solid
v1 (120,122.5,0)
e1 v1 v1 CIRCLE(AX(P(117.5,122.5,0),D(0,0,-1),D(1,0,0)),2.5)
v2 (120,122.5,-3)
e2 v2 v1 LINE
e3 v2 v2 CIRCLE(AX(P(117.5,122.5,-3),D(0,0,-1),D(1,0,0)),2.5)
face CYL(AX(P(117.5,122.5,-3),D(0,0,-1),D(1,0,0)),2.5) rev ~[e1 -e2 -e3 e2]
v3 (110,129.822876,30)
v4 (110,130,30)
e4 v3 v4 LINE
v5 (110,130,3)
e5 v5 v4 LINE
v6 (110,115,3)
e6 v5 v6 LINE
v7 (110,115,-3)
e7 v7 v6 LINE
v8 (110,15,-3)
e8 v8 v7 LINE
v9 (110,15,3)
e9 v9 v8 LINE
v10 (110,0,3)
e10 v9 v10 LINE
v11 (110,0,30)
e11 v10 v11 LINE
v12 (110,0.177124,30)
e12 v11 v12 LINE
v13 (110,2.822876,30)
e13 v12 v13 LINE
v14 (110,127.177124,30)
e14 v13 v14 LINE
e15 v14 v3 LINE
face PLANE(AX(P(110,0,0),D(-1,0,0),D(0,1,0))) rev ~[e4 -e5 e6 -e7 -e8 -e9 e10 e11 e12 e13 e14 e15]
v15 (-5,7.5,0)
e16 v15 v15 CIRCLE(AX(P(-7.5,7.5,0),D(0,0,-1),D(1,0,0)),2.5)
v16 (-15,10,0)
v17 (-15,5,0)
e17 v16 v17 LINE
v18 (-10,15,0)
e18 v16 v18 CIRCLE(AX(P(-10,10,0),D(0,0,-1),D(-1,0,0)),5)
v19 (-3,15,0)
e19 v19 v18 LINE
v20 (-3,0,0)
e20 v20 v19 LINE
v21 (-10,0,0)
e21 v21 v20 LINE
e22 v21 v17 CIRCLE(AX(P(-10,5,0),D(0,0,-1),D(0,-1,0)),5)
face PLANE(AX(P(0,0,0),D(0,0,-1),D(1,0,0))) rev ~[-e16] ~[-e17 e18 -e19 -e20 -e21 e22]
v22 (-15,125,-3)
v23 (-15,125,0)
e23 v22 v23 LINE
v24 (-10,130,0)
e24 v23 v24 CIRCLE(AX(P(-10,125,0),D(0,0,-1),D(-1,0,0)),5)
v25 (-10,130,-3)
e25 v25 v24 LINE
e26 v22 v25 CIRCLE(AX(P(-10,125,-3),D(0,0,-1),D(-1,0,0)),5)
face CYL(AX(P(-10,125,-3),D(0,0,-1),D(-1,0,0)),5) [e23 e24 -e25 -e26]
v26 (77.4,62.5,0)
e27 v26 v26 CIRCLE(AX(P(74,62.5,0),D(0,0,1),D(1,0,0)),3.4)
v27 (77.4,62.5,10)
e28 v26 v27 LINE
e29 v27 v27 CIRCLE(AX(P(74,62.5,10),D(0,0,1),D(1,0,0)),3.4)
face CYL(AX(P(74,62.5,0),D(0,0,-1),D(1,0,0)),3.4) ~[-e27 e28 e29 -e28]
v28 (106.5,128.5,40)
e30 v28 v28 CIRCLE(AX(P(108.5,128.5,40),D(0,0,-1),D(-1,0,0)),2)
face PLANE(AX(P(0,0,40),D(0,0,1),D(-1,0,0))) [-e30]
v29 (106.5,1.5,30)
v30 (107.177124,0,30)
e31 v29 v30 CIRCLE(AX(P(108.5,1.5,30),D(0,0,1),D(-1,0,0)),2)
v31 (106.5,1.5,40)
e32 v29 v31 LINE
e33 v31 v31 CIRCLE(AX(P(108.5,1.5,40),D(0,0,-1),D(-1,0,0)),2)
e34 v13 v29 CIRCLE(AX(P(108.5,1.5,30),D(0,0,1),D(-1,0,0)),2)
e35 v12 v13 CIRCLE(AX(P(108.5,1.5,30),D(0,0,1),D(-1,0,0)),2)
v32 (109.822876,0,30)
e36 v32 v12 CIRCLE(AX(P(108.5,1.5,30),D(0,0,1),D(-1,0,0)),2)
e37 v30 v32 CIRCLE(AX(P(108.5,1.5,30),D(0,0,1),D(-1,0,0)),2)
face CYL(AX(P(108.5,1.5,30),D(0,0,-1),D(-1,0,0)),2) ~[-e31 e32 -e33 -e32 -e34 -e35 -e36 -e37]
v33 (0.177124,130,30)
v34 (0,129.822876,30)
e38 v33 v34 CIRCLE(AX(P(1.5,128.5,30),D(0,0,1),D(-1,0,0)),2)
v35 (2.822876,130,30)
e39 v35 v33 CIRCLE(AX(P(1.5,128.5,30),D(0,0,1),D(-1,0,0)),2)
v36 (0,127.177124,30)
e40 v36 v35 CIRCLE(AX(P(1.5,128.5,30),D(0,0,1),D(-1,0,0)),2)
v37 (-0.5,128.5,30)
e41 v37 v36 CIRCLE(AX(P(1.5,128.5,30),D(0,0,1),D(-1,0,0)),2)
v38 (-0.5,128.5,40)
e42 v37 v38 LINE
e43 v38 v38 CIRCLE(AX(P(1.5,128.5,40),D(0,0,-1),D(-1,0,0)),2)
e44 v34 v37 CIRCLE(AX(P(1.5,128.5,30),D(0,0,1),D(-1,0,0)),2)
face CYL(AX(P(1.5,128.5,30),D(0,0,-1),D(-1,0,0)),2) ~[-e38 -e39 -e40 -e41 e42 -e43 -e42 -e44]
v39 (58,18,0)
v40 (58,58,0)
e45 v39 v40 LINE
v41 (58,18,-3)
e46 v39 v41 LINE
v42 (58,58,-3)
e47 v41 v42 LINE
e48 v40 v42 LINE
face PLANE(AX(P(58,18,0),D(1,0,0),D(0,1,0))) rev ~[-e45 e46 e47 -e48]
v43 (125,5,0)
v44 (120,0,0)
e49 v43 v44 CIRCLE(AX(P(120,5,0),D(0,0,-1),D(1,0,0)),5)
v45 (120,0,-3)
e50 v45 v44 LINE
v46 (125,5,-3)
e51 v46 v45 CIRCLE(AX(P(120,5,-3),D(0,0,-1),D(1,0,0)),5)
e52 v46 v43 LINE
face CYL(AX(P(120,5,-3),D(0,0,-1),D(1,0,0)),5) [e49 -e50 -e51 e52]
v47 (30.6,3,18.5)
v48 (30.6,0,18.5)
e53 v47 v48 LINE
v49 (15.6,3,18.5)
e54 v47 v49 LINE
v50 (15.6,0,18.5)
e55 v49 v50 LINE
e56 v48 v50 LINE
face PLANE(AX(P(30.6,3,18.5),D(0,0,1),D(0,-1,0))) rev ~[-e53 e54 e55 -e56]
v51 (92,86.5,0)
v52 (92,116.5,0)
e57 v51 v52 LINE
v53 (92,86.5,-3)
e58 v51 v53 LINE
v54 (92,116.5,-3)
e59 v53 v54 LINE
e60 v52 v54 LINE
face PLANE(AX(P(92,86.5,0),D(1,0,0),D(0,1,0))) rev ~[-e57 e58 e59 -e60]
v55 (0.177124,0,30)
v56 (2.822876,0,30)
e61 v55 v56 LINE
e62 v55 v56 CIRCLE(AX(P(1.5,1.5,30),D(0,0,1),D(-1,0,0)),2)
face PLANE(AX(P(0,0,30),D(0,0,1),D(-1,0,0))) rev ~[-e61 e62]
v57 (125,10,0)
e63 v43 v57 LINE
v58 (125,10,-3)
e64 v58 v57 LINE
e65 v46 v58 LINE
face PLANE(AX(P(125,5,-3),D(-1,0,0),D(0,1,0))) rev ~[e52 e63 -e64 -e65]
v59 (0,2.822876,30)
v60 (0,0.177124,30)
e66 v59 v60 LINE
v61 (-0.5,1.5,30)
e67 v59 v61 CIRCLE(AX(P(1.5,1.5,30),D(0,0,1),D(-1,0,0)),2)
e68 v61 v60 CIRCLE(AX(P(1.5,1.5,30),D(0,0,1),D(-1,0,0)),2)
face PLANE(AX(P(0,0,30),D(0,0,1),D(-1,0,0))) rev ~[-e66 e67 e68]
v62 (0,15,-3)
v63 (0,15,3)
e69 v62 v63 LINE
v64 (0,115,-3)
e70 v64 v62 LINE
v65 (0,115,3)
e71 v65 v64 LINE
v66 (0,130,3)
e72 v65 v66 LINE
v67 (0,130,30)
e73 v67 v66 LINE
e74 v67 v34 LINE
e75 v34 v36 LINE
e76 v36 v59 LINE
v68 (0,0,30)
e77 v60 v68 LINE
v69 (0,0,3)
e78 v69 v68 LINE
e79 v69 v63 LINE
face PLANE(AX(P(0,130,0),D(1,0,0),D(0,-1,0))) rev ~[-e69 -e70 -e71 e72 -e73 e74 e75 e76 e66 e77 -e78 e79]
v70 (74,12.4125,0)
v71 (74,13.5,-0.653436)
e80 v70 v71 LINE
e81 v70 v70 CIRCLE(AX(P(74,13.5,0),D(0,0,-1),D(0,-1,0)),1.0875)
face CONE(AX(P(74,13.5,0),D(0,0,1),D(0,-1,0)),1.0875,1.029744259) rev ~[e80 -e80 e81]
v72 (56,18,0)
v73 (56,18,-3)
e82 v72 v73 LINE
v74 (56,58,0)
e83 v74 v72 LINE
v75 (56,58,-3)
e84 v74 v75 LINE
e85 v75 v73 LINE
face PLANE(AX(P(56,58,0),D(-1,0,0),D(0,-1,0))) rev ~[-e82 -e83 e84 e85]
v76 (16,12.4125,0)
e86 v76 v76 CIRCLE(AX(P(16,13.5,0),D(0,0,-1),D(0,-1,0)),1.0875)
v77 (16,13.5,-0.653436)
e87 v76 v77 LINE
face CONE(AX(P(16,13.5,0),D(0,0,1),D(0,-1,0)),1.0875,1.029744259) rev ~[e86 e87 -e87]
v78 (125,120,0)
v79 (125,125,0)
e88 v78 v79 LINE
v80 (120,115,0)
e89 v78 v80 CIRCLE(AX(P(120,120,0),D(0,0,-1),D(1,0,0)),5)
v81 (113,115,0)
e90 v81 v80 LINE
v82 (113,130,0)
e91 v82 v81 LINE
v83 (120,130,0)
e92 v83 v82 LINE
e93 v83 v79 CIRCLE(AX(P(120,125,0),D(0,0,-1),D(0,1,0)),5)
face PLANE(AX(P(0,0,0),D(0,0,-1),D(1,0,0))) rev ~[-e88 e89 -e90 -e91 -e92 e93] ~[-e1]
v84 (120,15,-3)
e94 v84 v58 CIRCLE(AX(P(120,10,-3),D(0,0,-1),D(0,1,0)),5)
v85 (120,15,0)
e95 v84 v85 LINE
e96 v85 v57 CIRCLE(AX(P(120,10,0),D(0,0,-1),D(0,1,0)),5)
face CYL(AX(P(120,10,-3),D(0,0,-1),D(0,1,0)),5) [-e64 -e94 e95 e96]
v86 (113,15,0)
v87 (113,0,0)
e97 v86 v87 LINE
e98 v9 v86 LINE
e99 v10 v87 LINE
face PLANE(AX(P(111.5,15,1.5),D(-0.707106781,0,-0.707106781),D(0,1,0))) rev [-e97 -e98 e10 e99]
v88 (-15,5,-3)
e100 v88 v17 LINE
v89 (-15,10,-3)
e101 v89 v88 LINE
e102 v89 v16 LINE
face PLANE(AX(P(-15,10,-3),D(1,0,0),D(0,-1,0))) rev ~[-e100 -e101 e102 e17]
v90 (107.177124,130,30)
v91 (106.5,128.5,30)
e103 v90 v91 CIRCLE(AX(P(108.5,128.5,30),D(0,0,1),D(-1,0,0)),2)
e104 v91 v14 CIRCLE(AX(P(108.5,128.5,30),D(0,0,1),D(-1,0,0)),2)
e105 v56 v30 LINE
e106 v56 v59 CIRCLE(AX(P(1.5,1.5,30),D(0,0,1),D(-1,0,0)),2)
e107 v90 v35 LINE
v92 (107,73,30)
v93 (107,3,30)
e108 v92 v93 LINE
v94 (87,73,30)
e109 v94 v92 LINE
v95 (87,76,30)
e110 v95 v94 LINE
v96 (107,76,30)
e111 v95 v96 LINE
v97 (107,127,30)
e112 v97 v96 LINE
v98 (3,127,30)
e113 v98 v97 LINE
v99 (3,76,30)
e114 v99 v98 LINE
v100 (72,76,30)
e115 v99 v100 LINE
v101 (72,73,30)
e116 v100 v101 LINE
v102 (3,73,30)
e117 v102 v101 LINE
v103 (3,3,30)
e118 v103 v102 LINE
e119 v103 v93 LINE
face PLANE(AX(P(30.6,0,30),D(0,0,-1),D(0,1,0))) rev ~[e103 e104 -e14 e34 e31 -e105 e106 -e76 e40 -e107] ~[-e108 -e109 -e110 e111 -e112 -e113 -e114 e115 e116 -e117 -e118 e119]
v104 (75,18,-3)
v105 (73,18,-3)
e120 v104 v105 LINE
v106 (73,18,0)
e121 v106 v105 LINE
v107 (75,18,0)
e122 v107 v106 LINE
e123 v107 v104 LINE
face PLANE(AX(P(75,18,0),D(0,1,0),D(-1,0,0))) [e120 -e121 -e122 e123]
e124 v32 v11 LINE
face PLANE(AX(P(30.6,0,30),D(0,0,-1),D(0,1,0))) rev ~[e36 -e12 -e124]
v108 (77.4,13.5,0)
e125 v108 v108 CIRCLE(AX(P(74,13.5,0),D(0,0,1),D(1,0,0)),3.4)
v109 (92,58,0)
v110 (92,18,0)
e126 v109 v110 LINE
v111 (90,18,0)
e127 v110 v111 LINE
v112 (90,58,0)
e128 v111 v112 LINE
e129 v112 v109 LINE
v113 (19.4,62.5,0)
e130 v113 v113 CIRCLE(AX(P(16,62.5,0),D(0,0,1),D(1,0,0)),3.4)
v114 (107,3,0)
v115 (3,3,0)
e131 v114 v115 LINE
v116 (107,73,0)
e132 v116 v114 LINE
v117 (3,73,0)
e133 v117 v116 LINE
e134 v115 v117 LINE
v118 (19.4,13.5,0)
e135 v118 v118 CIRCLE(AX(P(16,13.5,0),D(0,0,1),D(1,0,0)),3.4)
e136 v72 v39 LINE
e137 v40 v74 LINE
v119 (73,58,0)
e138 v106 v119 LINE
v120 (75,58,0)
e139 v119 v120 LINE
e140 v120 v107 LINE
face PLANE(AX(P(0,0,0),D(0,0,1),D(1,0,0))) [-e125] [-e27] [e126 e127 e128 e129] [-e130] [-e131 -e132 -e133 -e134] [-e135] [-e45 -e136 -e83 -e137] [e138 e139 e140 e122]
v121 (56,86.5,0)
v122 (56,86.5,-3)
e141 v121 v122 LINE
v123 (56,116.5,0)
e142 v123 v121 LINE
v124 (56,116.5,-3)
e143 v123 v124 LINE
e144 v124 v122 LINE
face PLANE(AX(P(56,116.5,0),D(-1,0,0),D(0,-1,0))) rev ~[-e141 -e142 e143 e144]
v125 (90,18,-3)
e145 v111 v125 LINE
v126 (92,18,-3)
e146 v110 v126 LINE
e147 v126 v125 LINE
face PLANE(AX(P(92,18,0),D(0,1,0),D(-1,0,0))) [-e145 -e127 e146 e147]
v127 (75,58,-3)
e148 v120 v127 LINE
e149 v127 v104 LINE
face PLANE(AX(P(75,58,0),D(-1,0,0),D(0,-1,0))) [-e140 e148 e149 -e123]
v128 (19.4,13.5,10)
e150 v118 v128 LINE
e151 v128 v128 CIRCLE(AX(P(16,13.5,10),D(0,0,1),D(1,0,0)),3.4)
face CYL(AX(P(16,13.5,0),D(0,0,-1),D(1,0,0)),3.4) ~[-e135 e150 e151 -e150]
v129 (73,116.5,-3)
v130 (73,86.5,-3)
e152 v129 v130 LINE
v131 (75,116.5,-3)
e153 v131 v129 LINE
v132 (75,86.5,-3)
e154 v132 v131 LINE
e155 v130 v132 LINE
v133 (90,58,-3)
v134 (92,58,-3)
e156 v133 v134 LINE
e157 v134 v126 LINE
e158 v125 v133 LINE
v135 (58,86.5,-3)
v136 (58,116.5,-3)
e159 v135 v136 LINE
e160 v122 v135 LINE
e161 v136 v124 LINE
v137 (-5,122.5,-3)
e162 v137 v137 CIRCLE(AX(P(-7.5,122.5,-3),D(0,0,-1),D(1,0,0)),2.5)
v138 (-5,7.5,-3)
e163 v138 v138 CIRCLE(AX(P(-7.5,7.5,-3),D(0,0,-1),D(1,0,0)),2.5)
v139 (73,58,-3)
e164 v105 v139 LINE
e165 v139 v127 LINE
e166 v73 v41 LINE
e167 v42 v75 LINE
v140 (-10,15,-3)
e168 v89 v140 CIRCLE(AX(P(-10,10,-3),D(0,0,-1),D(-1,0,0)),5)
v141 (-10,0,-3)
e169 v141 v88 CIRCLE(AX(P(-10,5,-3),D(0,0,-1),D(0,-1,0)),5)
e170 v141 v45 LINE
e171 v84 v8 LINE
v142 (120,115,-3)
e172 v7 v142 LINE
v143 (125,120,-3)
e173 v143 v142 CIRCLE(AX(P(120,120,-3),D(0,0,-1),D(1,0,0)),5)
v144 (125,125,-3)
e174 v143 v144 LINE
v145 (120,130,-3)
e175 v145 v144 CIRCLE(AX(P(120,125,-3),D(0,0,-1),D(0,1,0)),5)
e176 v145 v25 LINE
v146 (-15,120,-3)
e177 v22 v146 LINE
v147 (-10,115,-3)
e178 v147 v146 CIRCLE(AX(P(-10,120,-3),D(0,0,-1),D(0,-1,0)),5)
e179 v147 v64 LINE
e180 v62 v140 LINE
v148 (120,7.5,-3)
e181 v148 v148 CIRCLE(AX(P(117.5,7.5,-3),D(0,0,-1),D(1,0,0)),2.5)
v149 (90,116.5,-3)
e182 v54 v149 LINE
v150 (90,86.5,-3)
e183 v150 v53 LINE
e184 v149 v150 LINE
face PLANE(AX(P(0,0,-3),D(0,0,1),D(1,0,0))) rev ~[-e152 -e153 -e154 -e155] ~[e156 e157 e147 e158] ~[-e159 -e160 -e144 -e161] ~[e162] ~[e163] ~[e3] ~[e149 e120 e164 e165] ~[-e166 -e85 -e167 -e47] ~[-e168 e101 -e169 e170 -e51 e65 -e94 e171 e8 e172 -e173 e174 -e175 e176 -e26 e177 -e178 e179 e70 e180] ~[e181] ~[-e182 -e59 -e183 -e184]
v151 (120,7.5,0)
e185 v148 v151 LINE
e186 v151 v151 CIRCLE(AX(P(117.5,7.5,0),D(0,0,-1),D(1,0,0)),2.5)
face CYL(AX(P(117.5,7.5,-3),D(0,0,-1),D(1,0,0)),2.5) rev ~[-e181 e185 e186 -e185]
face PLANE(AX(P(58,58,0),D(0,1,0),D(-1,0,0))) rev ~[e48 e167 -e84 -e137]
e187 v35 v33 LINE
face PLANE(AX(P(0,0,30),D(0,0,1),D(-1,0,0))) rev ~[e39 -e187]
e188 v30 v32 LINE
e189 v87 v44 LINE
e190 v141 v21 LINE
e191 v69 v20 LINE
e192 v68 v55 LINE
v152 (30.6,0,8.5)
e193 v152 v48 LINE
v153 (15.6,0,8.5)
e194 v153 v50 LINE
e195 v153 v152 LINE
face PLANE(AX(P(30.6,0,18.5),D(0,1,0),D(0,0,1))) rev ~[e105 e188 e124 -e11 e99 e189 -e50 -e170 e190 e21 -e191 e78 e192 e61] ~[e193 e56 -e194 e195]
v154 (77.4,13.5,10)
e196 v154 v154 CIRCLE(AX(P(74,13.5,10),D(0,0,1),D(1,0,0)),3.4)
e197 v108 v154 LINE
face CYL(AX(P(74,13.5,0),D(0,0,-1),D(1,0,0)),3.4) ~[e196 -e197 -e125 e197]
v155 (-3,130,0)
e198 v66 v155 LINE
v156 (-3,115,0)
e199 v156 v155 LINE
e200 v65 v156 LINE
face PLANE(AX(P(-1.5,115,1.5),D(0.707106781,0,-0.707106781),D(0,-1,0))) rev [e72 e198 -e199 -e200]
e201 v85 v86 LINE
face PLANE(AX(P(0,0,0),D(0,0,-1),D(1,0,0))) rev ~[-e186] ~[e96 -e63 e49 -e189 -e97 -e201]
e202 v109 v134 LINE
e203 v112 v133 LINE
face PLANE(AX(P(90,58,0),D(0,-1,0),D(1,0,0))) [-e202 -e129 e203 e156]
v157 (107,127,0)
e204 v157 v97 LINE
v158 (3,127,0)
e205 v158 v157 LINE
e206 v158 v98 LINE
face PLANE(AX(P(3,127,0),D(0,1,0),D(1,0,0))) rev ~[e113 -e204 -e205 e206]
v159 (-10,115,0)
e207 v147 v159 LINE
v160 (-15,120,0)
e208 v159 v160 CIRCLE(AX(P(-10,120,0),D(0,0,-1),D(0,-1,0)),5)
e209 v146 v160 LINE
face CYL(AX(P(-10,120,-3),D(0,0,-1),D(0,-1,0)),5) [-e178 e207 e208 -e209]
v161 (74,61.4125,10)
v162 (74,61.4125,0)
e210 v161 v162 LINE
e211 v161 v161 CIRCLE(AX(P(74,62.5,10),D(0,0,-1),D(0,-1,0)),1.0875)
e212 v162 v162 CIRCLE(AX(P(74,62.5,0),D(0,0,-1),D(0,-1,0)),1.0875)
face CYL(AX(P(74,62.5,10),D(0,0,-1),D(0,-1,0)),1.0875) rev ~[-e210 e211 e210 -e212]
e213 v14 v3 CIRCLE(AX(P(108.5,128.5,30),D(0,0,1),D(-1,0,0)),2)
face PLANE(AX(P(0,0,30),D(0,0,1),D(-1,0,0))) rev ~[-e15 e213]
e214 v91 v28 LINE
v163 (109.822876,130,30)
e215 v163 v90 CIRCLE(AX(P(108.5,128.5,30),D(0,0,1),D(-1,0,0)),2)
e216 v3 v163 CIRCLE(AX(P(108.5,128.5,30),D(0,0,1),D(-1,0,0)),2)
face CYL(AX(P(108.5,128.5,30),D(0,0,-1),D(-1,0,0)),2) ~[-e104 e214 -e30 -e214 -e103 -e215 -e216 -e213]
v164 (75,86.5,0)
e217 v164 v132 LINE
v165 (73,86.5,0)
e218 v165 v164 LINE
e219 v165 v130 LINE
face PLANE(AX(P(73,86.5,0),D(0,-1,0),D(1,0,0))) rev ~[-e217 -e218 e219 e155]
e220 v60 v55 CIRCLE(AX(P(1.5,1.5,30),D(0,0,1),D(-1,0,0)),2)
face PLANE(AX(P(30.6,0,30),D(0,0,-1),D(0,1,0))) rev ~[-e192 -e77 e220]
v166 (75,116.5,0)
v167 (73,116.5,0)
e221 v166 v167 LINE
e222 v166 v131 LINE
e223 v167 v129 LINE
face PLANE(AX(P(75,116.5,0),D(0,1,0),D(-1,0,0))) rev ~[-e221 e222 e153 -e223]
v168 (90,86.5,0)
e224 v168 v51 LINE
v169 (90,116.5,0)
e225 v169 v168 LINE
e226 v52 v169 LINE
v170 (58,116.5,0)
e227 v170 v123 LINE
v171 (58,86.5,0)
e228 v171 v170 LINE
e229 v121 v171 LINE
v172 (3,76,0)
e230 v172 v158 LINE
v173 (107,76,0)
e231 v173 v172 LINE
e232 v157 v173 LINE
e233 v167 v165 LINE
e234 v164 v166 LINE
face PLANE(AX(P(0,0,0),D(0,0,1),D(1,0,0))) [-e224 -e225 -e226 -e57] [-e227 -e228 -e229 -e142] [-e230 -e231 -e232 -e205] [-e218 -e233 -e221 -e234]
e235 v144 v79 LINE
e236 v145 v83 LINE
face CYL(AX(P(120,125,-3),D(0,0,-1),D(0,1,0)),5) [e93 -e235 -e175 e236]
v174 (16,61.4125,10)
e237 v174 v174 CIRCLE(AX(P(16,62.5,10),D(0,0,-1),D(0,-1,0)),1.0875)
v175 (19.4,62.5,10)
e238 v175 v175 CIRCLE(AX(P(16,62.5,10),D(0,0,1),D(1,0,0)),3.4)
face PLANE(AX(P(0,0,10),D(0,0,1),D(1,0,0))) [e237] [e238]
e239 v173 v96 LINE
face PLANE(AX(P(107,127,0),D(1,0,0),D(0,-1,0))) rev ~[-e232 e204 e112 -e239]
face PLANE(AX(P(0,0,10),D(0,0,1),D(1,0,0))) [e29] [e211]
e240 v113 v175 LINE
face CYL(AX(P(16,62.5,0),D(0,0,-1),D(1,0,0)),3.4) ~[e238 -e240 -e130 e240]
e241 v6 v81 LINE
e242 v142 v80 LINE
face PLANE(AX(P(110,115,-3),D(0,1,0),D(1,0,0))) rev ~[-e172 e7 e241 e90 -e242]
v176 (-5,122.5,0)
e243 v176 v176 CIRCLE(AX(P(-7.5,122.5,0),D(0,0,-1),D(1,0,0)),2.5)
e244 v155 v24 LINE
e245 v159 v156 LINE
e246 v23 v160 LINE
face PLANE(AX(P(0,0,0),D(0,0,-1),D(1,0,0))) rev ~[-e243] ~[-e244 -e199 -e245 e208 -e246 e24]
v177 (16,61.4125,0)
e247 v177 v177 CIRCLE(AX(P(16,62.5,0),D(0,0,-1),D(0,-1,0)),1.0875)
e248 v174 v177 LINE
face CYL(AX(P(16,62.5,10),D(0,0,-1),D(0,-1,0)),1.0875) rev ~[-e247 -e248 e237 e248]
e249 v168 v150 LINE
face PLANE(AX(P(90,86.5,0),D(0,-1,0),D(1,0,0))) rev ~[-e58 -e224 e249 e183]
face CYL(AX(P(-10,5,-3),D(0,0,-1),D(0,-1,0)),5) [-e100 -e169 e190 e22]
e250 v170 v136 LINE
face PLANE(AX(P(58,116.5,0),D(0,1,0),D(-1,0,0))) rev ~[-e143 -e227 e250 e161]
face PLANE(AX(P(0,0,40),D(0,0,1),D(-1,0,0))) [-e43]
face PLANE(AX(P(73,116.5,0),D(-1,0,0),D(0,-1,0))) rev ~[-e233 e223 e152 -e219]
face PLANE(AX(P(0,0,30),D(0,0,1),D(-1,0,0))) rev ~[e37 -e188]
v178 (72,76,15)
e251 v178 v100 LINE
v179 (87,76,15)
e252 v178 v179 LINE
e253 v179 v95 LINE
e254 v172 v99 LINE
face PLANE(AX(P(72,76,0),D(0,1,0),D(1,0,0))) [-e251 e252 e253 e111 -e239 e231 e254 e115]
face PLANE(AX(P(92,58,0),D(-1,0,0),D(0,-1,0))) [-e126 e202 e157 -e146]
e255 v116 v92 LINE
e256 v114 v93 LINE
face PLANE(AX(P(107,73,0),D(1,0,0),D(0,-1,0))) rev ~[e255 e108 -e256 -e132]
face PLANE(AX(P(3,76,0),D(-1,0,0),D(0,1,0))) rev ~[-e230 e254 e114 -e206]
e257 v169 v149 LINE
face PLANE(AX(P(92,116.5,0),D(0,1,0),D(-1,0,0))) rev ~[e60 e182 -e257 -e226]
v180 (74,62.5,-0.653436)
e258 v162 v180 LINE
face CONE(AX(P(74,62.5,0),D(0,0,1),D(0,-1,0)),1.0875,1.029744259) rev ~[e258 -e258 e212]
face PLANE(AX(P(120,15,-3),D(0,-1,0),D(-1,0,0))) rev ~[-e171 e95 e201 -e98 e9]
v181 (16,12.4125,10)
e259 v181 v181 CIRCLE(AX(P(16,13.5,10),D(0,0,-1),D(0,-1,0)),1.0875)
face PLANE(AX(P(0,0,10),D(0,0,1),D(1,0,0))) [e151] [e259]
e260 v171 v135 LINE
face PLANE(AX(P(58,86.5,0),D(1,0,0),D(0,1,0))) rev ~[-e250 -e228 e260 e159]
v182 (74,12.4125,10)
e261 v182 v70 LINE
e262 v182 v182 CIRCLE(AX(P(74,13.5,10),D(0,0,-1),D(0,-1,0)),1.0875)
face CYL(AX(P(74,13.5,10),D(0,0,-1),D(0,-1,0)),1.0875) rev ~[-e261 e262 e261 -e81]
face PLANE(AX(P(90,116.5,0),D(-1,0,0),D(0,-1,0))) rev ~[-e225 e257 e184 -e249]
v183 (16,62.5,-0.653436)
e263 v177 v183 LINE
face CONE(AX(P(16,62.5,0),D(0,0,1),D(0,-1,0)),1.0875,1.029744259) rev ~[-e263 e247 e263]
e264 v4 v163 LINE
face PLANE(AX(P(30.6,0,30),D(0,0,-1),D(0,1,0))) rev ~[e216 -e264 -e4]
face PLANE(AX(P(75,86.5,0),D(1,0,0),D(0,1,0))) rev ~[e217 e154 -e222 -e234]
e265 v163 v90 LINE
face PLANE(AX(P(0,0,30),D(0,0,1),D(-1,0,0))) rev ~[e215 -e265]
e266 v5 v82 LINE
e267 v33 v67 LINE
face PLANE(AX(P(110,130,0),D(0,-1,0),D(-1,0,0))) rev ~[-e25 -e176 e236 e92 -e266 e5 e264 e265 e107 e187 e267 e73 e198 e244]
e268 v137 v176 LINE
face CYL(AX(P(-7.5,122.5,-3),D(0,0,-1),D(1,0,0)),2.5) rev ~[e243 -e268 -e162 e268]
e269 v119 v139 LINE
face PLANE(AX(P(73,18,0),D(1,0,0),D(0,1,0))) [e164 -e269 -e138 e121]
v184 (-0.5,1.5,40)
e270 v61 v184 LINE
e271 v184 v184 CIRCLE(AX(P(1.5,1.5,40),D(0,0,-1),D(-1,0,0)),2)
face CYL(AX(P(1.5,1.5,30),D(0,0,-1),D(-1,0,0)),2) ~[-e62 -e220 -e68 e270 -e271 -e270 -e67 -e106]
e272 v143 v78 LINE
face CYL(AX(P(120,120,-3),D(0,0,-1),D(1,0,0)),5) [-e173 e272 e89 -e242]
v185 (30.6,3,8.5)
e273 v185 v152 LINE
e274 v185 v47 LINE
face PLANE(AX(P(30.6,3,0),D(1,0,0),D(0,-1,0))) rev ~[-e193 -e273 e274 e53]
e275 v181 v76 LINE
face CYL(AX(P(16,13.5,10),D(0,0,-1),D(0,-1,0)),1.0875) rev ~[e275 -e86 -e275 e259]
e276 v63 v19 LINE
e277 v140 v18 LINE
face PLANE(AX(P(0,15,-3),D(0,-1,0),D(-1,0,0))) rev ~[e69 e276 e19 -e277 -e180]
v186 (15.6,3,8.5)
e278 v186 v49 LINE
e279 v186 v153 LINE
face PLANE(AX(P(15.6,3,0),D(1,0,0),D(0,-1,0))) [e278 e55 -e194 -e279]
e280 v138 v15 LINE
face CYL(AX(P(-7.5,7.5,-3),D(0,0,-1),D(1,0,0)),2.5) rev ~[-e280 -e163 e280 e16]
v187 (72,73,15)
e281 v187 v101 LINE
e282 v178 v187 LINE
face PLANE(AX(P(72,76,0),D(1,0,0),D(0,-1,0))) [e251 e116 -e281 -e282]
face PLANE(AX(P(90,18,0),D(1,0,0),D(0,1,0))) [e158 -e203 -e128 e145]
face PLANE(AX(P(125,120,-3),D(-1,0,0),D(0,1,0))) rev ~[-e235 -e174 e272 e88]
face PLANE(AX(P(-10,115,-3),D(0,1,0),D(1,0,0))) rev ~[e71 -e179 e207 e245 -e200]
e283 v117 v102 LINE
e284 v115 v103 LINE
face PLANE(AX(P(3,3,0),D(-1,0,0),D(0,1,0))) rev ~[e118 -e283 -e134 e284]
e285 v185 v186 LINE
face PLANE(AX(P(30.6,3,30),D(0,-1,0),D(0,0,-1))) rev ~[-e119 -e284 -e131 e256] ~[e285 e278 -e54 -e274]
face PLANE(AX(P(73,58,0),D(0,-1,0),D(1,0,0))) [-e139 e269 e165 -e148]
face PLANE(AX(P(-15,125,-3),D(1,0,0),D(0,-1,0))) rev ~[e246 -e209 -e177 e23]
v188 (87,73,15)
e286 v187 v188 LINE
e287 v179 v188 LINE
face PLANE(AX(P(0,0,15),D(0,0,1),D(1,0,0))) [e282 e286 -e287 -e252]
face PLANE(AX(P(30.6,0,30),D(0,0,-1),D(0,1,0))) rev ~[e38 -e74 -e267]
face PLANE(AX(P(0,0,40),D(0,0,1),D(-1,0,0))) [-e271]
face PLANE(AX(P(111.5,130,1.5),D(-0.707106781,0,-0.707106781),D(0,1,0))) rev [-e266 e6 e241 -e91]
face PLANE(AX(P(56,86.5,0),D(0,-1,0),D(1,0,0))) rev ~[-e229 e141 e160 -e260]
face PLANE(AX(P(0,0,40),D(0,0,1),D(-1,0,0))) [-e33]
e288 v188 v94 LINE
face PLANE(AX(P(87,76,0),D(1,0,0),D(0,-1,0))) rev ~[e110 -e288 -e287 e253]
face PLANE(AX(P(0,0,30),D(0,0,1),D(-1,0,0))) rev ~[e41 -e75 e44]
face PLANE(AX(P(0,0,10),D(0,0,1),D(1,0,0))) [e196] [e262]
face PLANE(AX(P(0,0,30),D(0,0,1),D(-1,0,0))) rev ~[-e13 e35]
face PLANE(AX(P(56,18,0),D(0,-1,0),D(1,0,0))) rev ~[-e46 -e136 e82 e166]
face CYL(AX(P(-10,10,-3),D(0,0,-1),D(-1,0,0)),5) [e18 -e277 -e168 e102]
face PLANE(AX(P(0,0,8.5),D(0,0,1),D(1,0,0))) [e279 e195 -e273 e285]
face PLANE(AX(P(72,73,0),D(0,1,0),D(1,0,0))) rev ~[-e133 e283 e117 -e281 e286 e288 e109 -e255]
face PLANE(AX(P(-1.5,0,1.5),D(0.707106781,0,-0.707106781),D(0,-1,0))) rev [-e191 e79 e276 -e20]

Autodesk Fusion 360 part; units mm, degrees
sketch "Sketch2" plane through (0, 0, 0) normal (0, 0, 1) x (1, 0, 0)
  line L0 (0, 0) -> (110, 0)
  line L1 (110, 0) -> (110, 130)
  line L2 (110, 130) -> (0, 130)
  line L3 (0, 130) -> (0, 0)
  line L4 (3, 127) -> (107, 127)
  line L5 (107, 127) -> (107, 3)
  line L6 (107, 3) -> (3, 3)
  line L7 (3, 3) -> (3, 127)
  line L8 (3, 73) -> (107, 73)
  line L9 (3, 76) -> (107, 76)
  circle A0 centre (16, 62.5) radius 1.4
  circle A1 centre (74, 62.5) radius 1.4
  circle A2 centre (16, 13.5) radius 1.4
  circle A3 centre (74, 13.5) radius 1.4
  circle A4 centre (74, 62.5) radius 3.4
  circle A5 centre (74, 13.5) radius 3.4
  circle A6 centre (16, 13.5) radius 3.4
  circle A7 centre (16, 62.5) radius 3.4
  line L10 (15.6, 3) -> (15.6, 0)
  line L11 (30.6, 3) -> (30.6, 0)
  line L12 (12.5, 66) -> (97.5, 66)
  line L13 (97.5, 66) -> (97.5, 10)
  line L14 (97.5, 10) -> (12.5, 10)
  line L15 (12.5, 10) -> (12.5, 66)
  line L16 (90, 58) -> (92, 58)
  line L17 (92, 58) -> (92, 18)
  line L18 (92, 18) -> (90, 18)
  line L19 (90, 18) -> (90, 58)
  line L20 (73, 58) -> (75, 58)
  line L21 (75, 58) -> (75, 18)
  line L22 (75, 18) -> (73, 18)
  line L23 (73, 18) -> (73, 58)
  line L24 (58, 58) -> (56, 58)
  line L25 (56, 58) -> (56, 18)
  line L26 (56, 18) -> (58, 18)
  line L27 (58, 18) -> (58, 58)
  line L28 (72, 76) -> (72, 73)
  line L29 (87, 76) -> (87, 73)
  dimension "d7" = 110
  dimension "d8" = 130
  dimension "d10" = 3
  dimension "d11" = 3
  dimension "d12" = 3
  dimension "d13" = 3
  dimension "d14" = 70
  dimension "d15" = 3
  dimension "d18" = 2.8
  dimension "d21" = 13
  dimension "d22" = 10.5
  dimension "d23" = 2.8
  dimension "d24" = 10.5
  dimension "d25" = 58
  dimension "d26" = 2.8
  dimension "d27" = 13
  dimension "d28" = 49
  dimension "d29" = 2.8
  dimension "d30" = 49
  dimension "d31" = 58
  dimension "d35" = 6.8
  dimension "d36" = 6.8
  dimension "d37" = 6.8
  dimension "d38" = 6.8
  dimension "d39" = 15
  dimension "d40" = 12.6
  dimension "d41" = 85
  dimension "d42" = 56
  dimension "d43" = 9.5
  dimension "d44" = 7
  dimension "d47" = 2
  dimension "d48" = 40
  dimension "d49" = 15
  dimension "d50" = 15
  dimension "d52" = 2
  dimension "d53" = 2
  dimension "d54" = 15
  dimension "d55" = 15
  dimension "d57" = 15
  dimension "d62" = 20
extrude "Extrude2" add sketch "Sketch2" along normal blind 30 contours L0 L1 L2 L3 L4 L5 L6 L7 L10 L11 | L7 L8 L9 L28 | L5 L8 L9 L29 makes body 1
extrude "Extrude1" add sketch "Sketch2" against normal blind 3 separate body contours L0 L1 L2 L3 L4 L5 L6 L7 L10 L11 | L0 L6 L10 L11 | L5 L6 L7 L8 | L7 L8 L9 L28 | L5 L8 L9 L29 | L4 L5 L7 L9 | L8 L9 L28 L29 | A0 | A1 | A2 | A3 | A4 | A5 | A6 | A7 | L12 L13 L14 L15 | L16 L17 L18 L19 | L20 L21 L22 L23 | L24 L25 L26 L27 makes body 2
extrude "Extrude3" cut sketch "Sketch2" against normal blind 3 contours L16 L17 L18 L19 | L20 L21 L22 L23 | L24 L25 L26 L27 bodies 2
extrude "Extrude4" add sketch "Sketch2" along normal blind 15 contours L8 L9 L28 L29 bodies 1 2
extrude "Extrude5" add sketch "Sketch2" along normal blind 10 contours A4 | A5 | A6 | A7 bodies 1
extrude "Extrude6" add sketch "Sketch2" along normal blind 8.5 contours L0 L6 L10 L11 bodies 1
sketch "Sketch3" plane through (30.6, 0, 0) normal (-1, 0, 0) x (0, -1, 0)
  line L0 (-3, 8.5) -> (0, 8.5)
  line L1 (0, 8.5) -> (0, 30)
  line L2 (0, 30) -> (-3, 30)
  line L3 (-3, 30) -> (-3, 8.5)
  line L4 (-3, 18.5) -> (0, 18.5)
  dimension "d80" = 10
extrude "Extrude7" add sketch "Sketch3" along normal blind 15 contours L1 L2 L3 L4 bodies 1
sketch "Sketch4" plane through (0, 0, 30) normal (0, 0, 1) x (-1, 0, 0)
  line L0 (-107, -3) -> (-3, -3)
  line L1 (-3, -3) -> (-3, -73)
  line L2 (-3, -73) -> (-72, -73)
  line L3 (-72, -73) -> (-72, -76)
  line L4 (-72, -76) -> (-3, -76)
  line L5 (-3, -76) -> (-3, -127)
  line L6 (-3, -127) -> (-107, -127)
  line L7 (-107, -127) -> (-107, -76)
  line L8 (-107, -76) -> (-87, -76)
  line L9 (-87, -76) -> (-87, -73)
  line L10 (-87, -73) -> (-107, -73)
  line L11 (-107, -73) -> (-107, -3)
  line L12 (-110, -130) -> (0, -130)
  line L13 (0, -130) -> (0, 0)
  circle A0 centre (-108.5, -1.5) radius 2
  line L14 (-110, 0) -> (-110, -130)
  line L15 (0, 0) -> (-110, 0)
  circle A1 centre (-1.5, -1.5) radius 2
  circle A2 centre (-108.5, -128.5) radius 2
  line L16 (0, -130) -> (0, 0)
  circle A3 centre (-1.5, -128.5) radius 2
  line L17 (-110, -130) -> (0, -130)
  dimension "d84" = 4
  dimension "d87" = 4
  dimension "d90" = 4
  dimension "d92" = 1.5
  dimension "d93" = 1.5
  dimension "d94" = 1.5
  dimension "d95" = 1.5
  dimension "d96" = 1.5
  dimension "d97" = 1.5
  dimension "d98" = 4
  dimension "d99" = 1.5
  dimension "d100" = 1.5
extrude "Extrude8" add sketch "Sketch4" along normal blind 10 contours L12 L14 A2 L17 | L12 A2 L17 | L14 A2 | L12 L13 L16 A3 L17 | L12 A3 L17 | A0 L14 L15 | A0 L14 | L13 L16 A3 | L13 L15 A1 L16 | L13 A1 L16 | A0 L15 | L15 A1 picked at (-108.9341, -127.7863) picked at (-1.4297, -128.837) picked at (-108.7492, -1.8986) picked at (-1.0117, -1.0691) bodies 1
sketch "Sketch5" plane through (0, 0, 0) normal (0, 0, 1) x (1, 0, 0)
  line L0 (90, 86.5) -> (92, 86.5)
  line L1 (92, 86.5) -> (92, 116.5)
  line L2 (92, 116.5) -> (90, 116.5)
  line L3 (90, 116.5) -> (90, 86.5)
  line L4 (107, 127) -> (107, 3)
  line L5 (3, 127) -> (107, 127)
  line L6 (73, 86.5) -> (75, 86.5)
  line L7 (75, 86.5) -> (75, 116.5)
  line L8 (75, 116.5) -> (73, 116.5)
  line L9 (73, 116.5) -> (73, 86.5)
  line L10 (56, 86.5) -> (58, 86.5)
  line L11 (58, 86.5) -> (58, 116.5)
  line L12 (58, 116.5) -> (56, 116.5)
  line L13 (56, 116.5) -> (56, 86.5)
  line L14 (11, 118) -> (39, 118)
  line L15 (39, 118) -> (39, 92)
  line L16 (39, 92) -> (11, 92)
  line L17 (11, 92) -> (11, 118)
  dimension "d105" = 30
  dimension "d106" = 2
  dimension "d107" = 15
  dimension "d108" = 10.5
  dimension "d109" = 2
  dimension "d110" = 2
  dimension "d111" = 15
  dimension "d112" = 15
  dimension "d117" = 28
  dimension "d118" = 26
extrude "Extrude9" cut sketch "Sketch5" against normal blind 3 contours L0 L1 L2 L3 | L6 L7 L8 L9 | L10 L11 L12 L13 bodies 1
sketch "Sketch7" plane through (0, 0, 0) normal (0, 0, 1) x (1, 0, 0)
  line L0 (-161.2037, 91.5) -> (-31.2037, 91.5)
  line L1 (-31.2037, 91.5) -> (-31.2037, -58.5)
  line L2 (-31.2037, -58.5) -> (-161.2037, -58.5)
  line L3 (-161.2037, -58.5) -> (-161.2037, 91.5)
  line L4 (-161.2037, -58.5) -> (-31.2037, 91.5) construction
  line L5 (-31.2037, -58.5) -> (-161.2037, 91.5) construction
  circle A0 centre (-149.7037, -47) radius 2.5
  circle A1 centre (-42.7037, -47) radius 2.5
  circle A2 centre (-42.7037, 80) radius 2.5
  circle A3 centre (-149.7037, 80) radius 2.5
  line L6 (-145.2037, -42.5) -> (-145.2037, 75.5)
  line L7 (-145.2037, 75.5) -> (-47.2037, 75.5)
  line L8 (-47.2037, 75.5) -> (-47.2037, -42.5)
  line L9 (-47.2037, -42.5) -> (-145.2037, -42.5)
  dimension "d120" = 130
  dimension "d121" = 150
  dimension "d125" = 5
  dimension "d126" = 11.5
  dimension "d127" = 11.5
  dimension "d128" = 5
  dimension "d129" = 11.5
  dimension "d130" = 11.5
  dimension "d131" = 5
  dimension "d132" = 5
  dimension "d133" = 11.5
  dimension "d134" = 11.5
  dimension "d135" = 11.5
  dimension "d136" = 11.5
  dimension "d217" = 16
  dimension "d236" = 118
  dimension "d237" = 98
extrude "Extrude10" add sketch "Sketch7" along normal blind 10 separate body contours L0 L1 L2 L3 | A0 | A1 | A2 | A3 | L6 L7 L8 L9 makes body 3
chamfer "Chamfer1" distance 10 angle 45 4 edges at (-161.2037, 16.5, 10) (-96.2037, -58.5, 10) (-31.2037, 16.5, 10) (-96.2037, 91.5, 10) on bodies 3
extrude "Extrude11" cut sketch "Sketch7" along normal blind 5 contours A0 | A1 | A2 | A3 bodies 3
sketch "Sketch9" plane through (0, 0, -3) normal (0, 0, -1) x (1, 0, 0)
  line L0 (56, -86.5) -> (58, -86.5)
  line L1 (58, -86.5) -> (58, -116.5)
  line L2 (58, -116.5) -> (56, -116.5)
  line L3 (56, -116.5) -> (56, -86.5)
  line L4 (73, -86.5) -> (75, -86.5)
  line L5 (75, -86.5) -> (75, -116.5)
  line L6 (75, -116.5) -> (73, -116.5)
  line L7 (73, -116.5) -> (73, -86.5)
  line L8 (90, -86.5) -> (92, -86.5)
  line L9 (92, -86.5) -> (92, -116.5)
  line L10 (92, -116.5) -> (90, -116.5)
  line L11 (90, -116.5) -> (90, -86.5)
  line L12 (75, -18) -> (75, -58)
  line L13 (75, -58) -> (73, -58)
  line L14 (73, -58) -> (73, -18)
  line L15 (73, -18) -> (75, -18)
  line L16 (58, -58) -> (56, -58)
  line L17 (56, -58) -> (56, -18)
  line L18 (56, -18) -> (58, -18)
  line L19 (58, -18) -> (58, -58)
  line L20 (92, -18) -> (92, -58)
  line L21 (92, -58) -> (90, -58)
  line L22 (90, -58) -> (90, -18)
  line L23 (90, -18) -> (92, -18)
  line L24 (0, 0) -> (0, -130)
  line L25 (0, -130) -> (110, -130)
  line L26 (110, -130) -> (110, 0)
  line L27 (110, 0) -> (0, 0)
  line L28 (110, 0) -> (120, 0)
  line L29 (125, -5) -> (125, -10)
  line L30 (120, -15) -> (110, -15)
  line L31 (110, -15) -> (110, 0)
  circle A0 centre (117.5, -7.5) radius 2.5
  arc A1 (125, -5) -> (120, 0) centre (120, -5) ccw
  circle A2 centre (117.5, -7.5) radius 2.5
  arc A3 (120, -15) -> (125, -10) centre (120, -10) ccw
  circle A4 centre (117.5, -122.5) radius 2.5
  arc A5 (125, -120) -> (120, -115) centre (120, -120) ccw
  line L32 (120, -130) -> (110, -130)
  line L33 (110, -130) -> (110, -115)
  arc A6 (120, -130) -> (125, -125) centre (120, -125) ccw
  line L34 (125, -120) -> (125, -125)
  line L35 (110, -115) -> (120, -115)
  line L36 (-10, -115) -> (0, -115)
  line L37 (-15, -125) -> (-15, -120)
  circle A7 centre (-7.5, -122.5) radius 2.5
  arc A8 (-10, -115) -> (-15, -120) centre (-10, -120) ccw
  line L38 (0, -115) -> (0, -130)
  arc A9 (-15, -125) -> (-10, -130) centre (-10, -125) ccw
  line L39 (0, -130) -> (-10, -130)
  circle A10 centre (-7.5, -7.5) radius 2.5
  arc A11 (-10, 0) -> (-15, -5) centre (-10, -5) ccw
  line L40 (-10, 0) -> (0, 0)
  line L41 (-15, -10) -> (-15, -5)
  arc A12 (-15, -10) -> (-10, -15) centre (-10, -10) ccw
  line L42 (0, 0) -> (0, -15)
  line L43 (0, -15) -> (-10, -15)
  point P0 (125, 0)
  point P1 (125, 0)
  point P2 (110, -115)
  point P3 (0, -130)
  point P4 (-15, -130)
  point P5 (-19.7326, -130.5247)
  point P6 (0, -15)
  point P7 (-15, -15)
  point P8 (-20.5125, -15.7908)
  dimension "d144" = 10
  dimension "d145" = 10
  dimension "d153" = 5
  dimension "d154" = 5
  dimension "d155" = 5
  dimension "d158" = 5
  dimension "d159" = 5
  dimension "d161" = 5
  dimension "d164" = 10
  dimension "d165" = 5
  dimension "d166" = 5
  dimension "d167" = 5
  dimension "d168" = 5
  dimension "d169" = 5
  dimension "d174" = 10
  dimension "d175" = 10
  dimension "d176" = 5
  dimension "d177" = 5
  dimension "d178" = 5
  dimension "d185" = 10
  dimension "d186" = 10
  dimension "d187" = 5
  dimension "d188" = 5
  dimension "d189" = 5
extrude "Extrude12" add sketch "Sketch9" against normal blind 3 contours L24 A11 L40 L41 A12 L42 L43 | L26 L28 L29 L30 L31 A1 A3 | L24 L36 L37 A8 L38 A9 L39 | L26 A5 L32 L33 A6 L34 L35 bodies 1
chamfer "Chamfer2" distance 3 angle 45 4 edges at (0, 7.5, 0) (0, 122.5, 0) (110, 7.5, 0) (110, 122.5, 0) on bodies 1
extrude "Extrude13" add 1 faces at (74.3421, 62.9565, 0) along direction (0, 0, 1) blind 10 on bodies 1 bodies 1
hole "Hole1" at (74, 62.5, 10) direction (0, 0, -1) diameter 2.175 depth 10 tip angle 118 bodies 1
extrude "Extrude14" add sketch "Sketch2" along normal blind 10 contours A0 bodies 1
hole "Hole2" at (16, 62.5, 10) direction (0, 0, -1) diameter 2.175 depth 10 tip angle 118 bodies 1
extrude "Extrude15" add sketch "Sketch2" along normal blind 10 contours A2 bodies 1
hole "Hole3" at (16, 13.5, 10) direction (0, 0, -1) diameter 2.175 depth 10 tip angle 118 bodies 1
extrude "Extrude16" add sketch "Sketch2" along normal blind 10 contours A3 bodies 1
hole "Hole4" at (74, 13.5, 10) direction (0, 0, -1) diameter 2.175 depth 10 tip angle 118 bodies 1
sketch "Sketch10" plane through (0, 0, 0) normal (1, 0, 0) x (0, 1, 0)
extrude "Extrude17" cut sketch "Sketch7" along normal blind 5 contours L6 L7 L8 L9 bodies 3
sketch "Sketch11" plane through (0, 0, 0) normal (0, 0, 1) x (1, 0, 0)
  line L0 (-305, 90) -> (-175, 90)
  line L1 (-175, 90) -> (-175, -60)
  line L2 (-175, -60) -> (-305, -60)
  line L3 (-305, -60) -> (-305, 90)
  circle A0 centre (-293.5, -48.5) radius 2.75
  circle A1 centre (-186.5, -48.5) radius 2.75
  circle A2 centre (-293.5, 78.5) radius 2.75
  circle A3 centre (-186.5, 78.5) radius 2.75
  point P0 (-293.5, -48.5)
  dimension "d220" = 130
  dimension "d221" = 150
  dimension "d222" = 11.5
  dimension "d223" = 11.5
  dimension "d224" = 5.5
  dimension "d225" = 5.5
  dimension "d226" = 11.5
  dimension "d227" = 11.5
  dimension "d228" = 5.5
  dimension "d229" = 11.5
  dimension "d230" = 11.5
  dimension "d231" = 5.5
  dimension "d232" = 11.5
  dimension "d233" = 11.5
sketch "Sketch12" plane through (0, 0, 0) normal (0, 0, 1) x (1, 0, 0)
sketch "Sketch13" plane through (0, 0, 0) normal (0, 0, 1) x (1, 0, 0)
  line L0 (-234.4601, -236.7552) -> (-104.4601, -236.7552)
  line L1 (-104.4601, -236.7552) -> (-104.4601, -86.7552)
  line L2 (-104.4601, -86.7552) -> (-234.4601, -86.7552)
  line L3 (-234.4601, -86.7552) -> (-234.4601, -236.7552)
  dimension "d234" = 130
  dimension "d235" = 150
copy_body "Body->Comp1" bodies 1 removing the originals makes body 4 in component "Component"
component "Component" placed x (1, 0, 0) y (0, 1, 0) z (0, 0, 1) at (0, 0, 0)
hidden bodies 3
equation "WallThickness = 3 mm"
equation "HoleDiameter = 2.8 mm"
equation "PiHoleDistanceLength = 58 mm"
equation "PiHoleDistanceWidth = 49 mm"
equation "BoxLength = 110 mm"
equation "BoxWidth = 130 mm"
equation "d7 = BoxLength"
equation "d8 = BoxWidth"
equation "PiCompartmentWidth = 70 mm"
equation "d10 = WallThickness"
equation "d11 = WallThickness"
equation "d12 = WallThickness"
equation "d13 = WallThickness"
equation "d14 = PiCompartmentWidth"
equation "d15 = WallThickness"
equation "PiWidth = 56 mm"
equation "PiLength = 85 mm"
equation "d18 = HoleDiameter"
equation "PiHoleToLongSide = 3.5 mm"
equation "PiHoleToShortSide = 3.5 mm"
equation "d21 = ( BoxLength - 2 * WallThickness - PiLength ) / 2 + PiHoleToShortSide"
equation "d22 = ( PiCompartmentWidth - PiWidth ) / 2 + PiHoleToLongSide"
equation "d23 = HoleDiameter"
equation "d24 = d22"
equation "d25 = PiHoleDistanceLength"
equation "d26 = HoleDiameter"
equation "d27 = d21"
equation "d28 = PiHoleDistanceWidth"
equation "d29 = HoleDiameter"
equation "d30 = d28"
equation "d31 = d25"
equation "PiPowerOffset = 10.6 mm"
equation "PiPowerWidth = 15 mm"
equation "HoleCylinderWidth = 2 mm"
equation "d35 = HoleDiameter + HoleCylinderWidth * 2"
equation "d36 = d35"
equation "d37 = d35"
equation "d38 = d37"
equation "d39 = PiPowerWidth"
equation "d40 = Linear Dimension-19"
equation "d41 = PiLength"
equation "d42 = PiWidth"
equation "d43 = ( BoxLength - 2 * WallThickness - PiLength ) / 2"
equation "d44 = ( PiCompartmentWidth - PiWidth ) / 2"
equation "AirVentWidth = 2 mm"
equation "AirWentLength = 40 mm"
equation "d47 = AirVentWidth"
equation "d48 = AirWentLength"
equation "d49 = AirVentDistance"
equation "d50 = ( PiCompartmentWidth - AirWentLength ) / 2"
equation "d52 = d47"
equation "d53 = d47"
equation "d54 = d49"
equation "d55 = d49"
equation "WireHoleWidth = 15 mm"
equation "d57 = WireHoleWidth"
equation "AirVentDistance = 15 mm"
equation "WireHoleOffset = 20 mm"
equation "d62 = WireHoleOffset"
equation "FloorThickness = 3 mm"
equation "WallHeight = 30 mm"
equation "ScrewHeight = 10 mm"
equation "d68 = WallHeight"
equation "WireHoleHeight = 15 mm"
equation "d73 = WallHeight - WireHoleHeight"
equation "d75 = ScrewHeight"
equation "PiPowerHeight = 10 mm"
equation "d78 = ScrewHeight - ( 0.15 * PiPowerHeight )"
equation "d80 = PiPowerHeight"
equation "d81 = PiPowerWidth"
equation "RoofPinDiameter = 4 mm"
equation "d84 = RoofPinDiameter"
equation "d85 = WallThickness / 2"
equation "d86 = WallThickness / 2"
equation "d87 = d84"
equation "d90 = d84"
equation "d92 = WallThickness / 2"
equation "d93 = d92"
equation "d94 = d92"
equation "d95 = d92"
equation "d96 = d92"
equation "d97 = d92"
equation "d98 = d84"
equation "d99 = d92"
equation "d100 = d92"
equation "RoofPinHeight = 10 mm"
equation "d102 = RoofPinHeight"
equation "SensorAirVentLength = 30 mm"
equation "d105 = SensorAirVentLength"
equation "d106 = AirVentWidth"
equation "d107 = AirVentDistance"
equation "d108 = ( BoxWidth - PiCompartmentWidth - 3 * WallThickness - SensorAirVentLength ) / 2"
equation "d109 = AirVentWidth"
equation "d110 = AirVentWidth"
equation "d111 = d107"
equation "d112 = d107"
equation "SensorWidth = 26 mm"
equation "SensorLength = 28 mm"
equation "d117 = SensorLength"
equation "d118 = SensorWidth"
equation "RoofOverhang = 10 mm"
equation "d120 = BoxLength + 2 * RoofOverhang"
equation "d121 = BoxWidth + 2 * RoofOverhang"
equation "d122 = RoofHeight"
equation "d124 = RoofBevel"
equation "d125 = RoofPinDiameter + 1 mm"
equation "d126 = RoofOverhang + WallThickness / 2"
equation "d127 = d126"
equation "d128 = d125"
equation "d129 = d127"
equation "d130 = d127"
equation "d131 = d125"
equation "d132 = d125"
equation "d133 = d126"
equation "d134 = d126"
equation "d135 = d126"
equation "d136 = d126"
equation "RoofPinInsetDepth = 5 mm"
equation "d138 = RoofPinInsetDepth"
equation "RoofHeight = 10 mm"
equation "RoofBevel = 10 mm"
equation "BoxStandPinDiameter = 5 mm"
equation "FootRectSize = 10 mm"
equation "d144 = FootRectSize"
equation "d145 = FootRectSize"
equation "FootScrewHole = 5 mm"
equation "d153 = FootScrewHole"
equation "d154 = FootRectSize / 2"
equation "d155 = FootRectSize / 2"
equation "FootCornerCircleDiameter = 5 mm"
equation "d158 = FootCornerCircleDiameter"
equation "d159 = FootScrewHole"
equation "d161 = FootCornerCircleDiameter"
equation "d164 = FootRectSize"
equation "d165 = FootScrewHole"
equation "d166 = FootRectSize / 2"
equation "d167 = FootRectSize / 2"
equation "d168 = FootCornerCircleDiameter"
equation "d169 = FootCornerCircleDiameter"
equation "d174 = FootRectSize"
equation "d175 = FootRectSize"
equation "d176 = FootScrewHole"
equation "d177 = FootRectSize / 2"
equation "d178 = FootRectSize / 2"
equation "d185 = FootRectSize"
equation "d186 = FootRectSize"
equation "d187 = FootScrewHole"
equation "d188 = FootRectSize / 2"
equation "d189 = FootRectSize / 2"
equation "FootBevel = 3 mm"
equation "d196 = FootBevel"
equation "d197 = ScrewHeight"
equation "d199 = ScrewHeight"
equation "d202 = ScrewHeight"
equation "d204 = ScrewHeight"
equation "d207 = ScrewHeight"
equation "d209 = ScrewHeight"
equation "d212 = ScrewHeight"
equation "d214 = ScrewHeight"
equation "d217 = RoofOverhang + WallThickness * 2"
equation "d218 = RoofPinInsetDepth"
equation "d220 = BoxLength + 2 * RoofOverhang"
equation "d221 = BoxWidth + RoofOverhang * 2"
equation "d222 = RoofOverhang + WallThickness / 2"
equation "d223 = RoofOverhang + WallThickness / 2"
equation "d224 = RoofPinDiameter + 1.5 mm"
equation "d225 = RoofPinDiameter + 1.5 mm"
equation "d226 = RoofOverhang + WallThickness / 2"
equation "d227 = RoofOverhang + WallThickness / 2"
equation "d228 = RoofPinDiameter + 1.5 mm"
equation "d229 = RoofOverhang + WallThickness / 2"
equation "d230 = RoofOverhang + WallThickness / 2"
equation "d231 = RoofPinDiameter + 1.5 mm"
equation "d232 = RoofOverhang + WallThickness / 2"
equation "d233 = RoofOverhang + WallThickness / 2"
equation "d234 = BoxLength + 2 * RoofOverhang"
equation "d235 = BoxWidth + RoofOverhang * 2"
